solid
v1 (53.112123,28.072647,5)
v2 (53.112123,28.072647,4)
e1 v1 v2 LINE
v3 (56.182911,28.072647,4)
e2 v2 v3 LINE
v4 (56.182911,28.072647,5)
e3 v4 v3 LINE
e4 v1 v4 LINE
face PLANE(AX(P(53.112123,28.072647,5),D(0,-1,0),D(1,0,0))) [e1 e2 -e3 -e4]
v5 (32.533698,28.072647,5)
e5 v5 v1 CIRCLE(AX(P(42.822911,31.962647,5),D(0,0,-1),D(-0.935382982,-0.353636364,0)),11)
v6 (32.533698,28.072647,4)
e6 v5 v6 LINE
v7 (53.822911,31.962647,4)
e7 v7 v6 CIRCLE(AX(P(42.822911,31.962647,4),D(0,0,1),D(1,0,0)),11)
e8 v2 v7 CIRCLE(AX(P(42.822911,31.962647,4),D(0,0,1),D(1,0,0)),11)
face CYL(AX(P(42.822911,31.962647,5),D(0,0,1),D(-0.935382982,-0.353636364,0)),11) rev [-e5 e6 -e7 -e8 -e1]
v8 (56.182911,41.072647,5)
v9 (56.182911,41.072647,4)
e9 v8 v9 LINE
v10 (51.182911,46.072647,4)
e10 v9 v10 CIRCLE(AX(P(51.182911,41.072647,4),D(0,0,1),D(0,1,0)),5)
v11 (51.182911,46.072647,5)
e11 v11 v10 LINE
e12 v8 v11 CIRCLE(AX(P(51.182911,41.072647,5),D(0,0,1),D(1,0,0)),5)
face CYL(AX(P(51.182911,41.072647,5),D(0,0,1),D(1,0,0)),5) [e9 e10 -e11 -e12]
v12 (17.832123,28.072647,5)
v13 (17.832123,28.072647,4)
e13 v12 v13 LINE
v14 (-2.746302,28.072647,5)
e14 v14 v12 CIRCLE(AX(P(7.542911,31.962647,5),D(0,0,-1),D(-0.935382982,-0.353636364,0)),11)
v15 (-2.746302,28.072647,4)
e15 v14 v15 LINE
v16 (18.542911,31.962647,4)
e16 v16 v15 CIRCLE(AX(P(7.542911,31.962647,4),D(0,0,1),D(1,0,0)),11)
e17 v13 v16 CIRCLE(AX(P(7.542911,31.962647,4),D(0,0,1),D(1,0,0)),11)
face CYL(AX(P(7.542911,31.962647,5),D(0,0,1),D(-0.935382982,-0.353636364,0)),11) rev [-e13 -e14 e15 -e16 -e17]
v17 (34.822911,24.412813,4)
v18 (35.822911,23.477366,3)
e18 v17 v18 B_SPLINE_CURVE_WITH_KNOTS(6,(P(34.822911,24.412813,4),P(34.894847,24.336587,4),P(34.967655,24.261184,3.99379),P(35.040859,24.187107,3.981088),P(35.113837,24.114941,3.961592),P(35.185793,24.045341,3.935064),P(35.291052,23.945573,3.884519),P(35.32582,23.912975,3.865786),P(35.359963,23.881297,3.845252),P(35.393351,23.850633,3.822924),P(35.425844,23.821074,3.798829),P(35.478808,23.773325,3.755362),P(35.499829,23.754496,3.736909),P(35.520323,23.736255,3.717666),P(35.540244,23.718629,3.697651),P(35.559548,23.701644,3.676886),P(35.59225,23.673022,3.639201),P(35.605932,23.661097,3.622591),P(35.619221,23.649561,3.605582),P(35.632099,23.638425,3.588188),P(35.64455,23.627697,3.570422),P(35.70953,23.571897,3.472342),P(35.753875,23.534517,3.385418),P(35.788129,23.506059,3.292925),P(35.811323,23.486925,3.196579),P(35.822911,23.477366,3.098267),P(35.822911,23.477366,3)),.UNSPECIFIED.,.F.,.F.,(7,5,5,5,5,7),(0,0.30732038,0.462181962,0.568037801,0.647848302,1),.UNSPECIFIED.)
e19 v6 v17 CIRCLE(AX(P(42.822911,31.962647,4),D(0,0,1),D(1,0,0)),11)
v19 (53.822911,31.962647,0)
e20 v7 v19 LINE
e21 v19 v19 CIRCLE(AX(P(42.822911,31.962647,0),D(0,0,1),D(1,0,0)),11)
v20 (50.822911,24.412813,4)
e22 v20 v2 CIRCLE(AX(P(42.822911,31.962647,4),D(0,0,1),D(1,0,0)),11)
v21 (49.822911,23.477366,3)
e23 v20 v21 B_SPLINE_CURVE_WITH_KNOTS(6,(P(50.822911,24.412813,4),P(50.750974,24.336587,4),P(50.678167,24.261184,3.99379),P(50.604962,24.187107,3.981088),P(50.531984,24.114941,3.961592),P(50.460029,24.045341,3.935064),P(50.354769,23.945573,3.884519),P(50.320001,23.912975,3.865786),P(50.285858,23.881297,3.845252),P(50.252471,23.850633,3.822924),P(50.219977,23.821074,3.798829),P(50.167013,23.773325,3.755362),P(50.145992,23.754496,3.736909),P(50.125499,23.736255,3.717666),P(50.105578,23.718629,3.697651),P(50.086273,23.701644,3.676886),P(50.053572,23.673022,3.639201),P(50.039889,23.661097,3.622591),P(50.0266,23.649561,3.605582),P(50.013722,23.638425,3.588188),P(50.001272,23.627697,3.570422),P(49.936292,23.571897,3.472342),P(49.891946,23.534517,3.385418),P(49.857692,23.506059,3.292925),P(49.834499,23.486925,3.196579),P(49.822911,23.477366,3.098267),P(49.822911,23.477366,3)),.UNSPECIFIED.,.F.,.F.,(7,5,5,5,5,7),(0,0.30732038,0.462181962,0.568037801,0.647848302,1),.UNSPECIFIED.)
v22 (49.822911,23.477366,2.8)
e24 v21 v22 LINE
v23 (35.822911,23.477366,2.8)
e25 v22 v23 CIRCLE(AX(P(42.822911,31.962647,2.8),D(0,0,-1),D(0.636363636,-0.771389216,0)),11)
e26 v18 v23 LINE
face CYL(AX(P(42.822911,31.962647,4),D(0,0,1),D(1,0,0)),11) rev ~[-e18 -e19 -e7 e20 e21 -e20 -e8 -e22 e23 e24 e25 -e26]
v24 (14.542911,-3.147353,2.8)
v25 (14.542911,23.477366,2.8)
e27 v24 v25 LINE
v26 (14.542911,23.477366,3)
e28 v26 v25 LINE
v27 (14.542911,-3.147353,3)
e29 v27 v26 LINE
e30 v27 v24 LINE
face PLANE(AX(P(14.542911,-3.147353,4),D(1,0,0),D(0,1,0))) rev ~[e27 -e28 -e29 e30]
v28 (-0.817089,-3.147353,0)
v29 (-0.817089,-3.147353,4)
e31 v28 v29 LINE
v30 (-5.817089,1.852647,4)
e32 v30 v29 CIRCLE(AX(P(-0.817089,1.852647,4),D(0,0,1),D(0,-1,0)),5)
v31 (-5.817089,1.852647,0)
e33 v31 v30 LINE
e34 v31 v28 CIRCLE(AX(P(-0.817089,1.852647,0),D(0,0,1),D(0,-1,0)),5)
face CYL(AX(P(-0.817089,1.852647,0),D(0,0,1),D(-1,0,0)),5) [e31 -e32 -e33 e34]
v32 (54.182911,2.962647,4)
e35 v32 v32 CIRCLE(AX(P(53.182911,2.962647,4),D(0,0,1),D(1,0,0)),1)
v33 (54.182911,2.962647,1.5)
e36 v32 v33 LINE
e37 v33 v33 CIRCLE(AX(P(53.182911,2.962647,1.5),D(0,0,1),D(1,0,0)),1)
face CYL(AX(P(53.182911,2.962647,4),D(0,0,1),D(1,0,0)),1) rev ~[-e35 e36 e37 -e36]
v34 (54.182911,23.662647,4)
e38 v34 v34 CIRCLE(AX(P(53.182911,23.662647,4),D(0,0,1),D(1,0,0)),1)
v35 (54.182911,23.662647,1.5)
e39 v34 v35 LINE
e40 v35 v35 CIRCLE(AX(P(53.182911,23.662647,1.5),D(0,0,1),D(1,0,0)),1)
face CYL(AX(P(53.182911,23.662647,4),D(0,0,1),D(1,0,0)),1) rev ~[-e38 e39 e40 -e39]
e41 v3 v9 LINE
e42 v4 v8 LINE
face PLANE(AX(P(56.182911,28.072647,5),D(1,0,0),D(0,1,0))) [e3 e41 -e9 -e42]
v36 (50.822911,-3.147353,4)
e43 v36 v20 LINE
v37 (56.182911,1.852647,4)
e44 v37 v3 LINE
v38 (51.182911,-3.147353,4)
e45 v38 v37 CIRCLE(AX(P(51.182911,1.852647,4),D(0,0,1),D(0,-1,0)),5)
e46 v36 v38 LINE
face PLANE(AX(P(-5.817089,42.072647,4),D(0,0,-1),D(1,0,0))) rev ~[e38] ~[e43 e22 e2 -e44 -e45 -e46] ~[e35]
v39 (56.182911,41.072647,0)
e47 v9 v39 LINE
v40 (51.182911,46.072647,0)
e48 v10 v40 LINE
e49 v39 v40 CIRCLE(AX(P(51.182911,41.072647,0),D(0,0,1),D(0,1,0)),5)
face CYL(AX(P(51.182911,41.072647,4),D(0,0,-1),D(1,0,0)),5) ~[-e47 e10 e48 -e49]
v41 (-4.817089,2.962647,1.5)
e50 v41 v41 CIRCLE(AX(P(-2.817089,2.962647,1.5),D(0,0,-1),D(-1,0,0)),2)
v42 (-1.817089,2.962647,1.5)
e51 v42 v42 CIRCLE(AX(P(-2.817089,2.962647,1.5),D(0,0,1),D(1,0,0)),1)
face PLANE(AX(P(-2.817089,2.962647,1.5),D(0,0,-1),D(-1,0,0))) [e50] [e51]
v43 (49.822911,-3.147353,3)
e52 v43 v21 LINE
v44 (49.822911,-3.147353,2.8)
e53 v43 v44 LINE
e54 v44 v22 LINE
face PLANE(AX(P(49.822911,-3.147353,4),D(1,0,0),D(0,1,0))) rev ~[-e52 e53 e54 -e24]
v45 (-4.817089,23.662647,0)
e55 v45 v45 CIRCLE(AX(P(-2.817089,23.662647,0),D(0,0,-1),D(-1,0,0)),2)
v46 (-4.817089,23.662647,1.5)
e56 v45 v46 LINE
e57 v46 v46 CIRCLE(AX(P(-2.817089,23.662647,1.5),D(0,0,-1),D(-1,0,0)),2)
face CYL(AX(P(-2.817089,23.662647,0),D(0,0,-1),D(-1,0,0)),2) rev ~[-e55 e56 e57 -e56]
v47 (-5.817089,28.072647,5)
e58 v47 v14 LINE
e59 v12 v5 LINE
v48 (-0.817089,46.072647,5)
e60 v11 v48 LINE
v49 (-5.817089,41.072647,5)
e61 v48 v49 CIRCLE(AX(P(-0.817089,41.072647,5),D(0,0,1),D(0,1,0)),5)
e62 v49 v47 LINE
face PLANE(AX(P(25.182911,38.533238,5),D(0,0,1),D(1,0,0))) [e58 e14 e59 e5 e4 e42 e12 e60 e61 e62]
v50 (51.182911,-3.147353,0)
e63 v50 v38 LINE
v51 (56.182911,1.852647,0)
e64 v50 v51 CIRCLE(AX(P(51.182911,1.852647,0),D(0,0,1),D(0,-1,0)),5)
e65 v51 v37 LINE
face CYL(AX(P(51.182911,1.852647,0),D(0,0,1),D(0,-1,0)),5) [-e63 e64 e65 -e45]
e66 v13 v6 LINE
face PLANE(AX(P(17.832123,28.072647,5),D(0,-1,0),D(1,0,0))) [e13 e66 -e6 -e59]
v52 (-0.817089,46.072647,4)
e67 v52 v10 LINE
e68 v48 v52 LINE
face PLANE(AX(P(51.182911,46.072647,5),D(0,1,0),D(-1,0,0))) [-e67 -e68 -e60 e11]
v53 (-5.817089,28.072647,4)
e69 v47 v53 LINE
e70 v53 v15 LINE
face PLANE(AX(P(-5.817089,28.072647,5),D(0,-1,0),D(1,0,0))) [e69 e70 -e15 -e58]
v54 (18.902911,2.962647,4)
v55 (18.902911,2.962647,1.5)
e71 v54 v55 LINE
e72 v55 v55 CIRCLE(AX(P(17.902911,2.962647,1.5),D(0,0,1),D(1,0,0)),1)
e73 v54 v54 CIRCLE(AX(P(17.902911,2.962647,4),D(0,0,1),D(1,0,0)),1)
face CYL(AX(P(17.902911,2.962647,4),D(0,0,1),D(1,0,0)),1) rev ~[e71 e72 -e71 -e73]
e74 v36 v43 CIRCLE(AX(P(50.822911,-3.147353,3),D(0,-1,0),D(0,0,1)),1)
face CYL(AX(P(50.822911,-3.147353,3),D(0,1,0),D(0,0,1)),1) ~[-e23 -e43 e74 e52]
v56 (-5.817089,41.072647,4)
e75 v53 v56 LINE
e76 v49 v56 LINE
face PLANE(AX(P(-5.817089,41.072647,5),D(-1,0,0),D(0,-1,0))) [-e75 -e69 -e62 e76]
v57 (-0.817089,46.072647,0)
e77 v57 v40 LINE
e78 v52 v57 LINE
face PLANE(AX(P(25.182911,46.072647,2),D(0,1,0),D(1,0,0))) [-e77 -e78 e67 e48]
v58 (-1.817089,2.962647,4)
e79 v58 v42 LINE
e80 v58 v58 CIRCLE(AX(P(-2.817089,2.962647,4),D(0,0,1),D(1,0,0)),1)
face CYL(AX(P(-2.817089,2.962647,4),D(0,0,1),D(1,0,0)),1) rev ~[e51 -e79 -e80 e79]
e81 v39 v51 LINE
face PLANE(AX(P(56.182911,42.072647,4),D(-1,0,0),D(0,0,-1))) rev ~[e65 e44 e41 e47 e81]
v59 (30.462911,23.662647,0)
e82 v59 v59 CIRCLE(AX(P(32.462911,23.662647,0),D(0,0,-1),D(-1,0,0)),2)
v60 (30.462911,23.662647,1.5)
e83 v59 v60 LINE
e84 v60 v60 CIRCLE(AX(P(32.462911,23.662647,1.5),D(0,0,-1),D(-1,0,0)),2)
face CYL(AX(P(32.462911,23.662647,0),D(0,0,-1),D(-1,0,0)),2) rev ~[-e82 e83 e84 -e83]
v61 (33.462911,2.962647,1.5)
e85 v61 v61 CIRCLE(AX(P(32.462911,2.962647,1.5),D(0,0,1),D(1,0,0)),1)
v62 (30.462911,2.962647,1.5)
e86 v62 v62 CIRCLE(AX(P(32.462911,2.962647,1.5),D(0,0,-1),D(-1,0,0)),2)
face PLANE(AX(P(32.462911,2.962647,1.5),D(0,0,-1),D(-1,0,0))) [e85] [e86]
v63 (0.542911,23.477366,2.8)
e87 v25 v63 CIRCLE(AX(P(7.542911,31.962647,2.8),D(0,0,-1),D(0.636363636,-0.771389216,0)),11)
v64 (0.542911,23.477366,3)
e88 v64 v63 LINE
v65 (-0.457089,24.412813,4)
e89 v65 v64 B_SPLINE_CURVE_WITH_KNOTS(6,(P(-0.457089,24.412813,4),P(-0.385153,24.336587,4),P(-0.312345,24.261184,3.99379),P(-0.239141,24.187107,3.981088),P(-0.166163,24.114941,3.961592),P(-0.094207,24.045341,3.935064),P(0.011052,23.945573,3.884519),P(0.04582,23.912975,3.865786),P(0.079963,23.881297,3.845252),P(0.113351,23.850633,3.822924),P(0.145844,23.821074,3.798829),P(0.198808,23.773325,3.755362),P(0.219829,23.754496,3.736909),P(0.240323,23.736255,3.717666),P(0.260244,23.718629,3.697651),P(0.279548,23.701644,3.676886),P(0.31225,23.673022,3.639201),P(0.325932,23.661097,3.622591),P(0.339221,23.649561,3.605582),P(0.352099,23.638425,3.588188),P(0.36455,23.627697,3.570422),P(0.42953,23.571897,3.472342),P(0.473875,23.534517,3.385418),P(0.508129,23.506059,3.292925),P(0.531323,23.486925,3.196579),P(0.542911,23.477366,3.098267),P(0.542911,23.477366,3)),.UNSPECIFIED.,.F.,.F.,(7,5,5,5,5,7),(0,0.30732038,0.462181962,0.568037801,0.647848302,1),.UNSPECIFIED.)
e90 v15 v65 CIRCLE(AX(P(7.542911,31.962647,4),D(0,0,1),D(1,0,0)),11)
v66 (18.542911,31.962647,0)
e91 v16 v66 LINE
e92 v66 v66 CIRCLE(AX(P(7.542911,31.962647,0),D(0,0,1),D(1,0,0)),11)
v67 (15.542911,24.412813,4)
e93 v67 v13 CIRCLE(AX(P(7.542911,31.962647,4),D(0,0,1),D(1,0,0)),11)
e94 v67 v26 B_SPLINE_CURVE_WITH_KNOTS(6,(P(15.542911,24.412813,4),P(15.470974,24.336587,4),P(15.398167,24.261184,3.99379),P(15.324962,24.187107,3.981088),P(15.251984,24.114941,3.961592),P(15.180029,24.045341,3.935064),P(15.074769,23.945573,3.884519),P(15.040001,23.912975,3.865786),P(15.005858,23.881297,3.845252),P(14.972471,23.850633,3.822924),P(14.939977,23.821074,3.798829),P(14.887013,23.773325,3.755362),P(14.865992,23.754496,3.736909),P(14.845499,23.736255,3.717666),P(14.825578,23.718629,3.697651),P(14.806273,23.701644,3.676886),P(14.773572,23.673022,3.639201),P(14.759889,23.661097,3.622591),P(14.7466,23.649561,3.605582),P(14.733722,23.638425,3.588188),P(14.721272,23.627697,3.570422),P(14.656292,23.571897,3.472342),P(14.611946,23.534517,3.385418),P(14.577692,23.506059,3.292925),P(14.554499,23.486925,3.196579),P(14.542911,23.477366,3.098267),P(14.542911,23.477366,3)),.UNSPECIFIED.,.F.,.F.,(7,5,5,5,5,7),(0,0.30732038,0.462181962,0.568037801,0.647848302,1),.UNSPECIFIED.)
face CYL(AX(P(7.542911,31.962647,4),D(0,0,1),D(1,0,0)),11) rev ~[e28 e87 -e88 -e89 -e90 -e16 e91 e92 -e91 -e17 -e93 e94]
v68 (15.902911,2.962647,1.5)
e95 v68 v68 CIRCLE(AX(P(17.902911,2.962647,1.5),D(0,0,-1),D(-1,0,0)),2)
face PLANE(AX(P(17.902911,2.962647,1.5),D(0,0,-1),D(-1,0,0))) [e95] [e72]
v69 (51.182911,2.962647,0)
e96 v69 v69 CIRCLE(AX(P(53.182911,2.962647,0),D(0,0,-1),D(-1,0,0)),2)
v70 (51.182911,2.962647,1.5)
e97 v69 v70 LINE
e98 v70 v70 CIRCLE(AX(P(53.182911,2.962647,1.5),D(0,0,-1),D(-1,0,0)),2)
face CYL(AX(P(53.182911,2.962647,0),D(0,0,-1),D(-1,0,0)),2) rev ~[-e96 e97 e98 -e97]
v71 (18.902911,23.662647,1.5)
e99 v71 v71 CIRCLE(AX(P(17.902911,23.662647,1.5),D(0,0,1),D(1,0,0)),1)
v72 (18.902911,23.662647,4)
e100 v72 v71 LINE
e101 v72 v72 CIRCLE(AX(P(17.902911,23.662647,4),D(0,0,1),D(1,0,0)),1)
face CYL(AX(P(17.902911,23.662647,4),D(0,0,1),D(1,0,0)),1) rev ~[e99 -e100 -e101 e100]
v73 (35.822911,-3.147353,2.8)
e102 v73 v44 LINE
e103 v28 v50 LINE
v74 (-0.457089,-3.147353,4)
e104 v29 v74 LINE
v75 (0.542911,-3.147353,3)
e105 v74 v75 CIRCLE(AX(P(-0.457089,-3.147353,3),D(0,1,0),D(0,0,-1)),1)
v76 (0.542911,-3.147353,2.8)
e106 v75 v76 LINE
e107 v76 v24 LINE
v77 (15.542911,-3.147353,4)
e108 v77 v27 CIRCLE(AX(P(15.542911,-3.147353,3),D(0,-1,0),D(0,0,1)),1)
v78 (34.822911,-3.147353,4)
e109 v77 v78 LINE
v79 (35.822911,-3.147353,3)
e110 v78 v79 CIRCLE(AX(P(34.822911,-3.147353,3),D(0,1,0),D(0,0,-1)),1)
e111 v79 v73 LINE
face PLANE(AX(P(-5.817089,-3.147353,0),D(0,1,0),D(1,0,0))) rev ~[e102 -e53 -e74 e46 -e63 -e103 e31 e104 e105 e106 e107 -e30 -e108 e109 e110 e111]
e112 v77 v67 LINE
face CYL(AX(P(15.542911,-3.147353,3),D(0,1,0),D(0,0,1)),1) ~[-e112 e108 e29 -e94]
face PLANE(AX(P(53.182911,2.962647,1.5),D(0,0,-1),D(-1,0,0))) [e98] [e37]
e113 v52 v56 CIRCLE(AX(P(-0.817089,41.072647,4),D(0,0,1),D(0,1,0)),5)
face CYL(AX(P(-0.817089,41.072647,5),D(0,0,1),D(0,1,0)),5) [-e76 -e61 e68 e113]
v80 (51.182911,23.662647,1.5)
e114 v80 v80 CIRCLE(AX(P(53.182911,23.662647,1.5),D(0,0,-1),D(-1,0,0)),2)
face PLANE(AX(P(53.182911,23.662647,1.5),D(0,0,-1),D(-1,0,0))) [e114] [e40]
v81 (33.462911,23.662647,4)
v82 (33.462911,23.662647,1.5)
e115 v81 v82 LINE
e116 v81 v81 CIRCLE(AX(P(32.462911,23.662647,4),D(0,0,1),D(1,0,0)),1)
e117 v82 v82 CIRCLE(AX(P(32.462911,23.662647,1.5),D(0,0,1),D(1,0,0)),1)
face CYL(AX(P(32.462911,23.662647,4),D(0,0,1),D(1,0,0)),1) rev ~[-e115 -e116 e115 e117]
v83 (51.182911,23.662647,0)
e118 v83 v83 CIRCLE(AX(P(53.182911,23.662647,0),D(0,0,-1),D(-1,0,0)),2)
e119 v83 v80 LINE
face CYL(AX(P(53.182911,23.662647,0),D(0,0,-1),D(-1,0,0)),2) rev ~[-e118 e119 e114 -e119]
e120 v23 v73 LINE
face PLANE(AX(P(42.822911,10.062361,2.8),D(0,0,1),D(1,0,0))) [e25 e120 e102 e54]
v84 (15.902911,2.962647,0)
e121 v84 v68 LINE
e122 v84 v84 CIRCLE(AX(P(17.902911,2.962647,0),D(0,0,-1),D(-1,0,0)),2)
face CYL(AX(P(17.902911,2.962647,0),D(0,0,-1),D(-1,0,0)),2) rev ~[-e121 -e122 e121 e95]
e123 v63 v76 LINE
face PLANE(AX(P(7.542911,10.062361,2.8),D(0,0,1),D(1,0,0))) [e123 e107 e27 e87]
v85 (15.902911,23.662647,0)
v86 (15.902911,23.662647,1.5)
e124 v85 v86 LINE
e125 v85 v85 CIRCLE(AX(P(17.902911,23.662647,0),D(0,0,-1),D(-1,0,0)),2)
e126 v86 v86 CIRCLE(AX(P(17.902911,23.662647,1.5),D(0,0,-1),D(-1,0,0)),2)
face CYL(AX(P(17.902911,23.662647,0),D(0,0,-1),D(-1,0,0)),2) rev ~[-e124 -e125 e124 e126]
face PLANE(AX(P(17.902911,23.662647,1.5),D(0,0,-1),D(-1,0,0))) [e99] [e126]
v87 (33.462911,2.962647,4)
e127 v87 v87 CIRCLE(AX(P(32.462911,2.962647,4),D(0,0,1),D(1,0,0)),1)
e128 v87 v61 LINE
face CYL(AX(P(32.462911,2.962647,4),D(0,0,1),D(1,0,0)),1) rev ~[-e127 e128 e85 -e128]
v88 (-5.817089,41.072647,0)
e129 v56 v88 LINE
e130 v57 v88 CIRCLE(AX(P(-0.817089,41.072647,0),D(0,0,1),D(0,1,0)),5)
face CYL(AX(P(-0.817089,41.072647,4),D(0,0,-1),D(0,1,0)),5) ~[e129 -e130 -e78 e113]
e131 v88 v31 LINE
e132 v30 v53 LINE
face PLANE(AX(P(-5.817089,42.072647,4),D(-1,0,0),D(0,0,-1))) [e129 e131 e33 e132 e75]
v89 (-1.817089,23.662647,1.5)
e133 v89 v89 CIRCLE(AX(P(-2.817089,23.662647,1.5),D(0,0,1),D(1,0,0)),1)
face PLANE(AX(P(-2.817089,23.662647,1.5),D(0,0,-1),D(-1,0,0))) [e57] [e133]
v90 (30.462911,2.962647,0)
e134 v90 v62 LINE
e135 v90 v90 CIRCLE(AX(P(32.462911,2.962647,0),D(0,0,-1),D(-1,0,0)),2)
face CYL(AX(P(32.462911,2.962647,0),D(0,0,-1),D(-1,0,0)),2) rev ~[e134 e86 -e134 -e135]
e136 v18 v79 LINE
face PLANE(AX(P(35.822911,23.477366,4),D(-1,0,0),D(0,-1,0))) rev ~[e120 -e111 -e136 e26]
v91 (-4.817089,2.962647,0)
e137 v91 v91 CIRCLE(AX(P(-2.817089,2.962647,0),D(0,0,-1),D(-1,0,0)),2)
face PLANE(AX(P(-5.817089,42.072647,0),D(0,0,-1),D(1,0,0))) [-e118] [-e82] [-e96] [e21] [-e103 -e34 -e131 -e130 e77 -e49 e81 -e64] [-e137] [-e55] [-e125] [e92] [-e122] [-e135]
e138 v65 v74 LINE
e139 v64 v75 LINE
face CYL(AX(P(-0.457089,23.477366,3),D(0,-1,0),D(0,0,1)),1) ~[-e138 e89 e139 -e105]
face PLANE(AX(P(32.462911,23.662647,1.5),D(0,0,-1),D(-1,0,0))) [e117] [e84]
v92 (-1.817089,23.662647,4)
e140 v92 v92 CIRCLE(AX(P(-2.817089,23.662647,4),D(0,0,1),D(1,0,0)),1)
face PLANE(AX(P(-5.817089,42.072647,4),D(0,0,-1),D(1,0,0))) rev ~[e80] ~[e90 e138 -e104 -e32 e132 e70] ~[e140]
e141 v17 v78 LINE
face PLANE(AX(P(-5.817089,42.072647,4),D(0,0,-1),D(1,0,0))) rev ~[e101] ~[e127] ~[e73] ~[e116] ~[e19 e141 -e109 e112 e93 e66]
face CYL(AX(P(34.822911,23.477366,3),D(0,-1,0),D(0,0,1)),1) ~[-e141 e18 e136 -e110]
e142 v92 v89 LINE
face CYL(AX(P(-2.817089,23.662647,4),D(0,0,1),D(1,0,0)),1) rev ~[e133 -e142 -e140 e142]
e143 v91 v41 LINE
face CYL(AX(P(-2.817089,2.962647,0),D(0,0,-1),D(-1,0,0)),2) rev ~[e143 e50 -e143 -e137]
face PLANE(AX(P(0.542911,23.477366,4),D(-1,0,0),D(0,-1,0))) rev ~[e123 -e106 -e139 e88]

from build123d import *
from build123d.topology import SkipClean

# Parameters (mm, degrees)
SKETCH_1_W          = 62
SKETCH_1_H          = 45.22
EXTRUDE_1_DEPTH     = 4
SKETCH_7_W          = 62
SKETCH_7_H          = 4
EXTRUDE_4_DEPTH     = 4
SKETCH_2_R          = 11
SKETCH_2_R_2        = 1
CUT_EXTRUDE_1_DEPTH = 4
CUT_EXTRUDE_2_DEPTH = 1.2
FILLET_2_R          = 5
FILLET_4_R          = 5
FILLET_6_R          = 1
FILLET_7_R          = 1
FILLET_8_R          = 1
FILLET_9_R          = 1
SKETCH_3_R          = 2
CUT_EXTRUDE_6_DEPTH = 1.5
FILLET_10_R         = 5
FILLET_11_R         = 5
EXTRUDE_START       = 1
EXTRUDE_5_DEPTH     = 1


with BuildPart() as part:
    # 草图1 → 凸台-拉伸1 (new body)
    with BuildSketch(Plane.XY):
        with Locations((25.182910647, 19.462647059)):
            Rectangle(SKETCH_1_W, SKETCH_1_H)
    extrude(amount=EXTRUDE_1_DEPTH)

    # 草图7 → 凸台-拉伸4 (add)
    with BuildSketch(Plane(origin=(0, 42.072647059, 0), x_dir=(1, 0, 0), z_dir=(0, 1, 0))):
        with Locations((25.182910647, -2)):
            Rectangle(SKETCH_7_W, SKETCH_7_H)
    extrude(amount=EXTRUDE_4_DEPTH)

    # 草图2 → 切除-拉伸1 (cut)
    with BuildSketch(Plane.XY.offset(4)):
        with Locations((7.542910647, 31.962647059)):
            Circle(SKETCH_2_R)
        with Locations((42.822910647, 31.962647059)):
            Circle(SKETCH_2_R)
        with Locations((-2.817089353, 2.962647059)):
            Circle(SKETCH_2_R_2)
        with Locations((17.902910647, 2.962647059)):
            Circle(SKETCH_2_R_2)
        with Locations((-2.817089353, 23.662647059)):
            Circle(SKETCH_2_R_2)
        with Locations((17.902910647, 23.662647059)):
            Circle(SKETCH_2_R_2)
        with Locations((53.182910647, 2.962647059)):
            Circle(SKETCH_2_R_2)
        with Locations((32.462910647, 2.962647059)):
            Circle(SKETCH_2_R_2)
        with Locations((32.462910647, 23.662647059)):
            Circle(SKETCH_2_R_2)
        with Locations((53.182910647, 23.662647059)):
            Circle(SKETCH_2_R_2)
    extrude(amount=-CUT_EXTRUDE_1_DEPTH, mode=Mode.SUBTRACT)

    # 草图2<3> → 切除-拉伸2 (cut)
    with BuildSketch(Plane.XY.offset(4)):
        with BuildLine():
            Line((0.542910647, 23.477365685), (0.542910647, -3.147352941))
            Line((0.542910647, -3.147352941), (14.542910647, -3.147352941))
            Line((14.542910647, -3.147352941), (14.542910647, 23.477365685))
            ThreePointArc((14.542910647, 23.477365685), (7.542910647, 20.962647059), (0.542910647, 23.477365685))
        make_face()
        with BuildLine():
            Line((35.822910647, 23.477365685), (35.822910647, -3.147352941))
            Line((35.822910647, -3.147352941), (49.822910647, -3.147352941))
            Line((49.822910647, -3.147352941), (49.822910647, 23.477365685))
            ThreePointArc((49.822910647, 23.477365685), (42.822910647, 20.962647059), (35.822910647, 23.477365685))
        make_face()
    extrude(amount=-CUT_EXTRUDE_2_DEPTH, mode=Mode.SUBTRACT)

    # 圆角2
    fillet_2_edges = [part.edges().sort_by_distance(p)[0] for p in [
        (-5.817089353, -3.147352941, 2),
    ]]
    fillet(fillet_2_edges, radius=FILLET_2_R)

    # 圆角4
    fillet_4_edges = [part.edges().sort_by_distance(p)[0] for p in [
        (56.182910647, -3.147352941, 2),
    ]]
    fillet(fillet_4_edges, radius=FILLET_4_R)

    # 圆角6
    fillet_6_edges = [part.edges().sort_by_distance(p)[0] for p in [
        (14.542910647, 10.165006372, 4),
    ]]
    fillet(fillet_6_edges, radius=FILLET_6_R)

    # 圆角7
    fillet_7_edges = [part.edges().sort_by_distance(p)[0] for p in [
        (0.542910647, 10.165006372, 4),
    ]]
    fillet(fillet_7_edges, radius=FILLET_7_R)

    # 圆角8
    fillet_8_edges = [part.edges().sort_by_distance(p)[0] for p in [
        (35.822910647, 10.165006372, 4),
    ]]
    fillet(fillet_8_edges, radius=FILLET_8_R)

    # 圆角9
    fillet_9_edges = [part.edges().sort_by_distance(p)[0] for p in [
        (49.822910647, 10.165006372, 4),
    ]]
    fillet(fillet_9_edges, radius=FILLET_9_R)

    # 草图3 → 切除-拉伸6 (cut)
    with BuildSketch(Plane(origin=(0, 0, 0), x_dir=(-1, 0, 0), z_dir=(0, 0, -1))):
        with Locations((-53.182910647, 2.962647059)):
            Circle(SKETCH_3_R)
        with Locations((-32.462910647, 2.962647059)):
            Circle(SKETCH_3_R)
        with Locations((-17.902910647, 2.962647059)):
            Circle(SKETCH_3_R)
        with Locations((2.817089353, 2.962647059)):
            Circle(SKETCH_3_R)
        with Locations((-53.182910647, 23.662647059)):
            Circle(SKETCH_3_R)
        with Locations((-32.462910647, 23.662647059)):
            Circle(SKETCH_3_R)
        with Locations((-17.902910647, 23.662647059)):
            Circle(SKETCH_3_R)
        with Locations((2.817089353, 23.662647059)):
            Circle(SKETCH_3_R)
    extrude(amount=-CUT_EXTRUDE_6_DEPTH, mode=Mode.SUBTRACT)

    # 圆角10
    fillet_10_edges = [part.edges().sort_by_distance(p)[0] for p in [
        (56.182910647, 46.072647059, 2),
    ]]
    fillet(fillet_10_edges, radius=FILLET_10_R)

    # 圆角11
    fillet_11_edges = [part.edges().sort_by_distance(p)[0] for p in [
        (-5.817089353, 46.072647059, 2),
    ]]
    fillet(fillet_11_edges, radius=FILLET_11_R)

    # 草图8 → 凸台-拉伸5 (add)
    with SkipClean():  # the faces are left unmerged after this step: merging them gives an invalid solid
        with BuildSketch(Plane.XY.offset(4).offset(EXTRUDE_START)):
            with BuildLine():
                Line((53.112123445, 28.072647059), (56.182910647, 28.072647059))
                Line((56.182910647, 28.072647059), (56.182910647, 41.072647059))
                ThreePointArc((56.182910647, 41.072647059), (54.718444553, 44.608180965), (51.182910647, 46.072647059))
                Line((51.182910647, 46.072647059), (-0.817089353, 46.072647059))
                ThreePointArc((-0.817089353, 46.072647059), (-4.352623259, 44.608180965), (-5.817089353, 41.072647059))
                Line((-5.817089353, 41.072647059), (-5.817089353, 28.072647059))
                Line((-5.817089353, 28.072647059), (-2.746302151, 28.072647059))
                ThreePointArc((-2.746302151, 28.072647059), (7.542910647, 42.962647059), (17.832123445, 28.072647059))
                Line((17.832123445, 28.072647059), (32.533697849, 28.072647059))
                ThreePointArc((32.533697849, 28.072647059), (42.822910647, 42.962647059), (53.112123445, 28.072647059))
            make_face()
        extrude(amount=-EXTRUDE_5_DEPTH)


solid = part.part
